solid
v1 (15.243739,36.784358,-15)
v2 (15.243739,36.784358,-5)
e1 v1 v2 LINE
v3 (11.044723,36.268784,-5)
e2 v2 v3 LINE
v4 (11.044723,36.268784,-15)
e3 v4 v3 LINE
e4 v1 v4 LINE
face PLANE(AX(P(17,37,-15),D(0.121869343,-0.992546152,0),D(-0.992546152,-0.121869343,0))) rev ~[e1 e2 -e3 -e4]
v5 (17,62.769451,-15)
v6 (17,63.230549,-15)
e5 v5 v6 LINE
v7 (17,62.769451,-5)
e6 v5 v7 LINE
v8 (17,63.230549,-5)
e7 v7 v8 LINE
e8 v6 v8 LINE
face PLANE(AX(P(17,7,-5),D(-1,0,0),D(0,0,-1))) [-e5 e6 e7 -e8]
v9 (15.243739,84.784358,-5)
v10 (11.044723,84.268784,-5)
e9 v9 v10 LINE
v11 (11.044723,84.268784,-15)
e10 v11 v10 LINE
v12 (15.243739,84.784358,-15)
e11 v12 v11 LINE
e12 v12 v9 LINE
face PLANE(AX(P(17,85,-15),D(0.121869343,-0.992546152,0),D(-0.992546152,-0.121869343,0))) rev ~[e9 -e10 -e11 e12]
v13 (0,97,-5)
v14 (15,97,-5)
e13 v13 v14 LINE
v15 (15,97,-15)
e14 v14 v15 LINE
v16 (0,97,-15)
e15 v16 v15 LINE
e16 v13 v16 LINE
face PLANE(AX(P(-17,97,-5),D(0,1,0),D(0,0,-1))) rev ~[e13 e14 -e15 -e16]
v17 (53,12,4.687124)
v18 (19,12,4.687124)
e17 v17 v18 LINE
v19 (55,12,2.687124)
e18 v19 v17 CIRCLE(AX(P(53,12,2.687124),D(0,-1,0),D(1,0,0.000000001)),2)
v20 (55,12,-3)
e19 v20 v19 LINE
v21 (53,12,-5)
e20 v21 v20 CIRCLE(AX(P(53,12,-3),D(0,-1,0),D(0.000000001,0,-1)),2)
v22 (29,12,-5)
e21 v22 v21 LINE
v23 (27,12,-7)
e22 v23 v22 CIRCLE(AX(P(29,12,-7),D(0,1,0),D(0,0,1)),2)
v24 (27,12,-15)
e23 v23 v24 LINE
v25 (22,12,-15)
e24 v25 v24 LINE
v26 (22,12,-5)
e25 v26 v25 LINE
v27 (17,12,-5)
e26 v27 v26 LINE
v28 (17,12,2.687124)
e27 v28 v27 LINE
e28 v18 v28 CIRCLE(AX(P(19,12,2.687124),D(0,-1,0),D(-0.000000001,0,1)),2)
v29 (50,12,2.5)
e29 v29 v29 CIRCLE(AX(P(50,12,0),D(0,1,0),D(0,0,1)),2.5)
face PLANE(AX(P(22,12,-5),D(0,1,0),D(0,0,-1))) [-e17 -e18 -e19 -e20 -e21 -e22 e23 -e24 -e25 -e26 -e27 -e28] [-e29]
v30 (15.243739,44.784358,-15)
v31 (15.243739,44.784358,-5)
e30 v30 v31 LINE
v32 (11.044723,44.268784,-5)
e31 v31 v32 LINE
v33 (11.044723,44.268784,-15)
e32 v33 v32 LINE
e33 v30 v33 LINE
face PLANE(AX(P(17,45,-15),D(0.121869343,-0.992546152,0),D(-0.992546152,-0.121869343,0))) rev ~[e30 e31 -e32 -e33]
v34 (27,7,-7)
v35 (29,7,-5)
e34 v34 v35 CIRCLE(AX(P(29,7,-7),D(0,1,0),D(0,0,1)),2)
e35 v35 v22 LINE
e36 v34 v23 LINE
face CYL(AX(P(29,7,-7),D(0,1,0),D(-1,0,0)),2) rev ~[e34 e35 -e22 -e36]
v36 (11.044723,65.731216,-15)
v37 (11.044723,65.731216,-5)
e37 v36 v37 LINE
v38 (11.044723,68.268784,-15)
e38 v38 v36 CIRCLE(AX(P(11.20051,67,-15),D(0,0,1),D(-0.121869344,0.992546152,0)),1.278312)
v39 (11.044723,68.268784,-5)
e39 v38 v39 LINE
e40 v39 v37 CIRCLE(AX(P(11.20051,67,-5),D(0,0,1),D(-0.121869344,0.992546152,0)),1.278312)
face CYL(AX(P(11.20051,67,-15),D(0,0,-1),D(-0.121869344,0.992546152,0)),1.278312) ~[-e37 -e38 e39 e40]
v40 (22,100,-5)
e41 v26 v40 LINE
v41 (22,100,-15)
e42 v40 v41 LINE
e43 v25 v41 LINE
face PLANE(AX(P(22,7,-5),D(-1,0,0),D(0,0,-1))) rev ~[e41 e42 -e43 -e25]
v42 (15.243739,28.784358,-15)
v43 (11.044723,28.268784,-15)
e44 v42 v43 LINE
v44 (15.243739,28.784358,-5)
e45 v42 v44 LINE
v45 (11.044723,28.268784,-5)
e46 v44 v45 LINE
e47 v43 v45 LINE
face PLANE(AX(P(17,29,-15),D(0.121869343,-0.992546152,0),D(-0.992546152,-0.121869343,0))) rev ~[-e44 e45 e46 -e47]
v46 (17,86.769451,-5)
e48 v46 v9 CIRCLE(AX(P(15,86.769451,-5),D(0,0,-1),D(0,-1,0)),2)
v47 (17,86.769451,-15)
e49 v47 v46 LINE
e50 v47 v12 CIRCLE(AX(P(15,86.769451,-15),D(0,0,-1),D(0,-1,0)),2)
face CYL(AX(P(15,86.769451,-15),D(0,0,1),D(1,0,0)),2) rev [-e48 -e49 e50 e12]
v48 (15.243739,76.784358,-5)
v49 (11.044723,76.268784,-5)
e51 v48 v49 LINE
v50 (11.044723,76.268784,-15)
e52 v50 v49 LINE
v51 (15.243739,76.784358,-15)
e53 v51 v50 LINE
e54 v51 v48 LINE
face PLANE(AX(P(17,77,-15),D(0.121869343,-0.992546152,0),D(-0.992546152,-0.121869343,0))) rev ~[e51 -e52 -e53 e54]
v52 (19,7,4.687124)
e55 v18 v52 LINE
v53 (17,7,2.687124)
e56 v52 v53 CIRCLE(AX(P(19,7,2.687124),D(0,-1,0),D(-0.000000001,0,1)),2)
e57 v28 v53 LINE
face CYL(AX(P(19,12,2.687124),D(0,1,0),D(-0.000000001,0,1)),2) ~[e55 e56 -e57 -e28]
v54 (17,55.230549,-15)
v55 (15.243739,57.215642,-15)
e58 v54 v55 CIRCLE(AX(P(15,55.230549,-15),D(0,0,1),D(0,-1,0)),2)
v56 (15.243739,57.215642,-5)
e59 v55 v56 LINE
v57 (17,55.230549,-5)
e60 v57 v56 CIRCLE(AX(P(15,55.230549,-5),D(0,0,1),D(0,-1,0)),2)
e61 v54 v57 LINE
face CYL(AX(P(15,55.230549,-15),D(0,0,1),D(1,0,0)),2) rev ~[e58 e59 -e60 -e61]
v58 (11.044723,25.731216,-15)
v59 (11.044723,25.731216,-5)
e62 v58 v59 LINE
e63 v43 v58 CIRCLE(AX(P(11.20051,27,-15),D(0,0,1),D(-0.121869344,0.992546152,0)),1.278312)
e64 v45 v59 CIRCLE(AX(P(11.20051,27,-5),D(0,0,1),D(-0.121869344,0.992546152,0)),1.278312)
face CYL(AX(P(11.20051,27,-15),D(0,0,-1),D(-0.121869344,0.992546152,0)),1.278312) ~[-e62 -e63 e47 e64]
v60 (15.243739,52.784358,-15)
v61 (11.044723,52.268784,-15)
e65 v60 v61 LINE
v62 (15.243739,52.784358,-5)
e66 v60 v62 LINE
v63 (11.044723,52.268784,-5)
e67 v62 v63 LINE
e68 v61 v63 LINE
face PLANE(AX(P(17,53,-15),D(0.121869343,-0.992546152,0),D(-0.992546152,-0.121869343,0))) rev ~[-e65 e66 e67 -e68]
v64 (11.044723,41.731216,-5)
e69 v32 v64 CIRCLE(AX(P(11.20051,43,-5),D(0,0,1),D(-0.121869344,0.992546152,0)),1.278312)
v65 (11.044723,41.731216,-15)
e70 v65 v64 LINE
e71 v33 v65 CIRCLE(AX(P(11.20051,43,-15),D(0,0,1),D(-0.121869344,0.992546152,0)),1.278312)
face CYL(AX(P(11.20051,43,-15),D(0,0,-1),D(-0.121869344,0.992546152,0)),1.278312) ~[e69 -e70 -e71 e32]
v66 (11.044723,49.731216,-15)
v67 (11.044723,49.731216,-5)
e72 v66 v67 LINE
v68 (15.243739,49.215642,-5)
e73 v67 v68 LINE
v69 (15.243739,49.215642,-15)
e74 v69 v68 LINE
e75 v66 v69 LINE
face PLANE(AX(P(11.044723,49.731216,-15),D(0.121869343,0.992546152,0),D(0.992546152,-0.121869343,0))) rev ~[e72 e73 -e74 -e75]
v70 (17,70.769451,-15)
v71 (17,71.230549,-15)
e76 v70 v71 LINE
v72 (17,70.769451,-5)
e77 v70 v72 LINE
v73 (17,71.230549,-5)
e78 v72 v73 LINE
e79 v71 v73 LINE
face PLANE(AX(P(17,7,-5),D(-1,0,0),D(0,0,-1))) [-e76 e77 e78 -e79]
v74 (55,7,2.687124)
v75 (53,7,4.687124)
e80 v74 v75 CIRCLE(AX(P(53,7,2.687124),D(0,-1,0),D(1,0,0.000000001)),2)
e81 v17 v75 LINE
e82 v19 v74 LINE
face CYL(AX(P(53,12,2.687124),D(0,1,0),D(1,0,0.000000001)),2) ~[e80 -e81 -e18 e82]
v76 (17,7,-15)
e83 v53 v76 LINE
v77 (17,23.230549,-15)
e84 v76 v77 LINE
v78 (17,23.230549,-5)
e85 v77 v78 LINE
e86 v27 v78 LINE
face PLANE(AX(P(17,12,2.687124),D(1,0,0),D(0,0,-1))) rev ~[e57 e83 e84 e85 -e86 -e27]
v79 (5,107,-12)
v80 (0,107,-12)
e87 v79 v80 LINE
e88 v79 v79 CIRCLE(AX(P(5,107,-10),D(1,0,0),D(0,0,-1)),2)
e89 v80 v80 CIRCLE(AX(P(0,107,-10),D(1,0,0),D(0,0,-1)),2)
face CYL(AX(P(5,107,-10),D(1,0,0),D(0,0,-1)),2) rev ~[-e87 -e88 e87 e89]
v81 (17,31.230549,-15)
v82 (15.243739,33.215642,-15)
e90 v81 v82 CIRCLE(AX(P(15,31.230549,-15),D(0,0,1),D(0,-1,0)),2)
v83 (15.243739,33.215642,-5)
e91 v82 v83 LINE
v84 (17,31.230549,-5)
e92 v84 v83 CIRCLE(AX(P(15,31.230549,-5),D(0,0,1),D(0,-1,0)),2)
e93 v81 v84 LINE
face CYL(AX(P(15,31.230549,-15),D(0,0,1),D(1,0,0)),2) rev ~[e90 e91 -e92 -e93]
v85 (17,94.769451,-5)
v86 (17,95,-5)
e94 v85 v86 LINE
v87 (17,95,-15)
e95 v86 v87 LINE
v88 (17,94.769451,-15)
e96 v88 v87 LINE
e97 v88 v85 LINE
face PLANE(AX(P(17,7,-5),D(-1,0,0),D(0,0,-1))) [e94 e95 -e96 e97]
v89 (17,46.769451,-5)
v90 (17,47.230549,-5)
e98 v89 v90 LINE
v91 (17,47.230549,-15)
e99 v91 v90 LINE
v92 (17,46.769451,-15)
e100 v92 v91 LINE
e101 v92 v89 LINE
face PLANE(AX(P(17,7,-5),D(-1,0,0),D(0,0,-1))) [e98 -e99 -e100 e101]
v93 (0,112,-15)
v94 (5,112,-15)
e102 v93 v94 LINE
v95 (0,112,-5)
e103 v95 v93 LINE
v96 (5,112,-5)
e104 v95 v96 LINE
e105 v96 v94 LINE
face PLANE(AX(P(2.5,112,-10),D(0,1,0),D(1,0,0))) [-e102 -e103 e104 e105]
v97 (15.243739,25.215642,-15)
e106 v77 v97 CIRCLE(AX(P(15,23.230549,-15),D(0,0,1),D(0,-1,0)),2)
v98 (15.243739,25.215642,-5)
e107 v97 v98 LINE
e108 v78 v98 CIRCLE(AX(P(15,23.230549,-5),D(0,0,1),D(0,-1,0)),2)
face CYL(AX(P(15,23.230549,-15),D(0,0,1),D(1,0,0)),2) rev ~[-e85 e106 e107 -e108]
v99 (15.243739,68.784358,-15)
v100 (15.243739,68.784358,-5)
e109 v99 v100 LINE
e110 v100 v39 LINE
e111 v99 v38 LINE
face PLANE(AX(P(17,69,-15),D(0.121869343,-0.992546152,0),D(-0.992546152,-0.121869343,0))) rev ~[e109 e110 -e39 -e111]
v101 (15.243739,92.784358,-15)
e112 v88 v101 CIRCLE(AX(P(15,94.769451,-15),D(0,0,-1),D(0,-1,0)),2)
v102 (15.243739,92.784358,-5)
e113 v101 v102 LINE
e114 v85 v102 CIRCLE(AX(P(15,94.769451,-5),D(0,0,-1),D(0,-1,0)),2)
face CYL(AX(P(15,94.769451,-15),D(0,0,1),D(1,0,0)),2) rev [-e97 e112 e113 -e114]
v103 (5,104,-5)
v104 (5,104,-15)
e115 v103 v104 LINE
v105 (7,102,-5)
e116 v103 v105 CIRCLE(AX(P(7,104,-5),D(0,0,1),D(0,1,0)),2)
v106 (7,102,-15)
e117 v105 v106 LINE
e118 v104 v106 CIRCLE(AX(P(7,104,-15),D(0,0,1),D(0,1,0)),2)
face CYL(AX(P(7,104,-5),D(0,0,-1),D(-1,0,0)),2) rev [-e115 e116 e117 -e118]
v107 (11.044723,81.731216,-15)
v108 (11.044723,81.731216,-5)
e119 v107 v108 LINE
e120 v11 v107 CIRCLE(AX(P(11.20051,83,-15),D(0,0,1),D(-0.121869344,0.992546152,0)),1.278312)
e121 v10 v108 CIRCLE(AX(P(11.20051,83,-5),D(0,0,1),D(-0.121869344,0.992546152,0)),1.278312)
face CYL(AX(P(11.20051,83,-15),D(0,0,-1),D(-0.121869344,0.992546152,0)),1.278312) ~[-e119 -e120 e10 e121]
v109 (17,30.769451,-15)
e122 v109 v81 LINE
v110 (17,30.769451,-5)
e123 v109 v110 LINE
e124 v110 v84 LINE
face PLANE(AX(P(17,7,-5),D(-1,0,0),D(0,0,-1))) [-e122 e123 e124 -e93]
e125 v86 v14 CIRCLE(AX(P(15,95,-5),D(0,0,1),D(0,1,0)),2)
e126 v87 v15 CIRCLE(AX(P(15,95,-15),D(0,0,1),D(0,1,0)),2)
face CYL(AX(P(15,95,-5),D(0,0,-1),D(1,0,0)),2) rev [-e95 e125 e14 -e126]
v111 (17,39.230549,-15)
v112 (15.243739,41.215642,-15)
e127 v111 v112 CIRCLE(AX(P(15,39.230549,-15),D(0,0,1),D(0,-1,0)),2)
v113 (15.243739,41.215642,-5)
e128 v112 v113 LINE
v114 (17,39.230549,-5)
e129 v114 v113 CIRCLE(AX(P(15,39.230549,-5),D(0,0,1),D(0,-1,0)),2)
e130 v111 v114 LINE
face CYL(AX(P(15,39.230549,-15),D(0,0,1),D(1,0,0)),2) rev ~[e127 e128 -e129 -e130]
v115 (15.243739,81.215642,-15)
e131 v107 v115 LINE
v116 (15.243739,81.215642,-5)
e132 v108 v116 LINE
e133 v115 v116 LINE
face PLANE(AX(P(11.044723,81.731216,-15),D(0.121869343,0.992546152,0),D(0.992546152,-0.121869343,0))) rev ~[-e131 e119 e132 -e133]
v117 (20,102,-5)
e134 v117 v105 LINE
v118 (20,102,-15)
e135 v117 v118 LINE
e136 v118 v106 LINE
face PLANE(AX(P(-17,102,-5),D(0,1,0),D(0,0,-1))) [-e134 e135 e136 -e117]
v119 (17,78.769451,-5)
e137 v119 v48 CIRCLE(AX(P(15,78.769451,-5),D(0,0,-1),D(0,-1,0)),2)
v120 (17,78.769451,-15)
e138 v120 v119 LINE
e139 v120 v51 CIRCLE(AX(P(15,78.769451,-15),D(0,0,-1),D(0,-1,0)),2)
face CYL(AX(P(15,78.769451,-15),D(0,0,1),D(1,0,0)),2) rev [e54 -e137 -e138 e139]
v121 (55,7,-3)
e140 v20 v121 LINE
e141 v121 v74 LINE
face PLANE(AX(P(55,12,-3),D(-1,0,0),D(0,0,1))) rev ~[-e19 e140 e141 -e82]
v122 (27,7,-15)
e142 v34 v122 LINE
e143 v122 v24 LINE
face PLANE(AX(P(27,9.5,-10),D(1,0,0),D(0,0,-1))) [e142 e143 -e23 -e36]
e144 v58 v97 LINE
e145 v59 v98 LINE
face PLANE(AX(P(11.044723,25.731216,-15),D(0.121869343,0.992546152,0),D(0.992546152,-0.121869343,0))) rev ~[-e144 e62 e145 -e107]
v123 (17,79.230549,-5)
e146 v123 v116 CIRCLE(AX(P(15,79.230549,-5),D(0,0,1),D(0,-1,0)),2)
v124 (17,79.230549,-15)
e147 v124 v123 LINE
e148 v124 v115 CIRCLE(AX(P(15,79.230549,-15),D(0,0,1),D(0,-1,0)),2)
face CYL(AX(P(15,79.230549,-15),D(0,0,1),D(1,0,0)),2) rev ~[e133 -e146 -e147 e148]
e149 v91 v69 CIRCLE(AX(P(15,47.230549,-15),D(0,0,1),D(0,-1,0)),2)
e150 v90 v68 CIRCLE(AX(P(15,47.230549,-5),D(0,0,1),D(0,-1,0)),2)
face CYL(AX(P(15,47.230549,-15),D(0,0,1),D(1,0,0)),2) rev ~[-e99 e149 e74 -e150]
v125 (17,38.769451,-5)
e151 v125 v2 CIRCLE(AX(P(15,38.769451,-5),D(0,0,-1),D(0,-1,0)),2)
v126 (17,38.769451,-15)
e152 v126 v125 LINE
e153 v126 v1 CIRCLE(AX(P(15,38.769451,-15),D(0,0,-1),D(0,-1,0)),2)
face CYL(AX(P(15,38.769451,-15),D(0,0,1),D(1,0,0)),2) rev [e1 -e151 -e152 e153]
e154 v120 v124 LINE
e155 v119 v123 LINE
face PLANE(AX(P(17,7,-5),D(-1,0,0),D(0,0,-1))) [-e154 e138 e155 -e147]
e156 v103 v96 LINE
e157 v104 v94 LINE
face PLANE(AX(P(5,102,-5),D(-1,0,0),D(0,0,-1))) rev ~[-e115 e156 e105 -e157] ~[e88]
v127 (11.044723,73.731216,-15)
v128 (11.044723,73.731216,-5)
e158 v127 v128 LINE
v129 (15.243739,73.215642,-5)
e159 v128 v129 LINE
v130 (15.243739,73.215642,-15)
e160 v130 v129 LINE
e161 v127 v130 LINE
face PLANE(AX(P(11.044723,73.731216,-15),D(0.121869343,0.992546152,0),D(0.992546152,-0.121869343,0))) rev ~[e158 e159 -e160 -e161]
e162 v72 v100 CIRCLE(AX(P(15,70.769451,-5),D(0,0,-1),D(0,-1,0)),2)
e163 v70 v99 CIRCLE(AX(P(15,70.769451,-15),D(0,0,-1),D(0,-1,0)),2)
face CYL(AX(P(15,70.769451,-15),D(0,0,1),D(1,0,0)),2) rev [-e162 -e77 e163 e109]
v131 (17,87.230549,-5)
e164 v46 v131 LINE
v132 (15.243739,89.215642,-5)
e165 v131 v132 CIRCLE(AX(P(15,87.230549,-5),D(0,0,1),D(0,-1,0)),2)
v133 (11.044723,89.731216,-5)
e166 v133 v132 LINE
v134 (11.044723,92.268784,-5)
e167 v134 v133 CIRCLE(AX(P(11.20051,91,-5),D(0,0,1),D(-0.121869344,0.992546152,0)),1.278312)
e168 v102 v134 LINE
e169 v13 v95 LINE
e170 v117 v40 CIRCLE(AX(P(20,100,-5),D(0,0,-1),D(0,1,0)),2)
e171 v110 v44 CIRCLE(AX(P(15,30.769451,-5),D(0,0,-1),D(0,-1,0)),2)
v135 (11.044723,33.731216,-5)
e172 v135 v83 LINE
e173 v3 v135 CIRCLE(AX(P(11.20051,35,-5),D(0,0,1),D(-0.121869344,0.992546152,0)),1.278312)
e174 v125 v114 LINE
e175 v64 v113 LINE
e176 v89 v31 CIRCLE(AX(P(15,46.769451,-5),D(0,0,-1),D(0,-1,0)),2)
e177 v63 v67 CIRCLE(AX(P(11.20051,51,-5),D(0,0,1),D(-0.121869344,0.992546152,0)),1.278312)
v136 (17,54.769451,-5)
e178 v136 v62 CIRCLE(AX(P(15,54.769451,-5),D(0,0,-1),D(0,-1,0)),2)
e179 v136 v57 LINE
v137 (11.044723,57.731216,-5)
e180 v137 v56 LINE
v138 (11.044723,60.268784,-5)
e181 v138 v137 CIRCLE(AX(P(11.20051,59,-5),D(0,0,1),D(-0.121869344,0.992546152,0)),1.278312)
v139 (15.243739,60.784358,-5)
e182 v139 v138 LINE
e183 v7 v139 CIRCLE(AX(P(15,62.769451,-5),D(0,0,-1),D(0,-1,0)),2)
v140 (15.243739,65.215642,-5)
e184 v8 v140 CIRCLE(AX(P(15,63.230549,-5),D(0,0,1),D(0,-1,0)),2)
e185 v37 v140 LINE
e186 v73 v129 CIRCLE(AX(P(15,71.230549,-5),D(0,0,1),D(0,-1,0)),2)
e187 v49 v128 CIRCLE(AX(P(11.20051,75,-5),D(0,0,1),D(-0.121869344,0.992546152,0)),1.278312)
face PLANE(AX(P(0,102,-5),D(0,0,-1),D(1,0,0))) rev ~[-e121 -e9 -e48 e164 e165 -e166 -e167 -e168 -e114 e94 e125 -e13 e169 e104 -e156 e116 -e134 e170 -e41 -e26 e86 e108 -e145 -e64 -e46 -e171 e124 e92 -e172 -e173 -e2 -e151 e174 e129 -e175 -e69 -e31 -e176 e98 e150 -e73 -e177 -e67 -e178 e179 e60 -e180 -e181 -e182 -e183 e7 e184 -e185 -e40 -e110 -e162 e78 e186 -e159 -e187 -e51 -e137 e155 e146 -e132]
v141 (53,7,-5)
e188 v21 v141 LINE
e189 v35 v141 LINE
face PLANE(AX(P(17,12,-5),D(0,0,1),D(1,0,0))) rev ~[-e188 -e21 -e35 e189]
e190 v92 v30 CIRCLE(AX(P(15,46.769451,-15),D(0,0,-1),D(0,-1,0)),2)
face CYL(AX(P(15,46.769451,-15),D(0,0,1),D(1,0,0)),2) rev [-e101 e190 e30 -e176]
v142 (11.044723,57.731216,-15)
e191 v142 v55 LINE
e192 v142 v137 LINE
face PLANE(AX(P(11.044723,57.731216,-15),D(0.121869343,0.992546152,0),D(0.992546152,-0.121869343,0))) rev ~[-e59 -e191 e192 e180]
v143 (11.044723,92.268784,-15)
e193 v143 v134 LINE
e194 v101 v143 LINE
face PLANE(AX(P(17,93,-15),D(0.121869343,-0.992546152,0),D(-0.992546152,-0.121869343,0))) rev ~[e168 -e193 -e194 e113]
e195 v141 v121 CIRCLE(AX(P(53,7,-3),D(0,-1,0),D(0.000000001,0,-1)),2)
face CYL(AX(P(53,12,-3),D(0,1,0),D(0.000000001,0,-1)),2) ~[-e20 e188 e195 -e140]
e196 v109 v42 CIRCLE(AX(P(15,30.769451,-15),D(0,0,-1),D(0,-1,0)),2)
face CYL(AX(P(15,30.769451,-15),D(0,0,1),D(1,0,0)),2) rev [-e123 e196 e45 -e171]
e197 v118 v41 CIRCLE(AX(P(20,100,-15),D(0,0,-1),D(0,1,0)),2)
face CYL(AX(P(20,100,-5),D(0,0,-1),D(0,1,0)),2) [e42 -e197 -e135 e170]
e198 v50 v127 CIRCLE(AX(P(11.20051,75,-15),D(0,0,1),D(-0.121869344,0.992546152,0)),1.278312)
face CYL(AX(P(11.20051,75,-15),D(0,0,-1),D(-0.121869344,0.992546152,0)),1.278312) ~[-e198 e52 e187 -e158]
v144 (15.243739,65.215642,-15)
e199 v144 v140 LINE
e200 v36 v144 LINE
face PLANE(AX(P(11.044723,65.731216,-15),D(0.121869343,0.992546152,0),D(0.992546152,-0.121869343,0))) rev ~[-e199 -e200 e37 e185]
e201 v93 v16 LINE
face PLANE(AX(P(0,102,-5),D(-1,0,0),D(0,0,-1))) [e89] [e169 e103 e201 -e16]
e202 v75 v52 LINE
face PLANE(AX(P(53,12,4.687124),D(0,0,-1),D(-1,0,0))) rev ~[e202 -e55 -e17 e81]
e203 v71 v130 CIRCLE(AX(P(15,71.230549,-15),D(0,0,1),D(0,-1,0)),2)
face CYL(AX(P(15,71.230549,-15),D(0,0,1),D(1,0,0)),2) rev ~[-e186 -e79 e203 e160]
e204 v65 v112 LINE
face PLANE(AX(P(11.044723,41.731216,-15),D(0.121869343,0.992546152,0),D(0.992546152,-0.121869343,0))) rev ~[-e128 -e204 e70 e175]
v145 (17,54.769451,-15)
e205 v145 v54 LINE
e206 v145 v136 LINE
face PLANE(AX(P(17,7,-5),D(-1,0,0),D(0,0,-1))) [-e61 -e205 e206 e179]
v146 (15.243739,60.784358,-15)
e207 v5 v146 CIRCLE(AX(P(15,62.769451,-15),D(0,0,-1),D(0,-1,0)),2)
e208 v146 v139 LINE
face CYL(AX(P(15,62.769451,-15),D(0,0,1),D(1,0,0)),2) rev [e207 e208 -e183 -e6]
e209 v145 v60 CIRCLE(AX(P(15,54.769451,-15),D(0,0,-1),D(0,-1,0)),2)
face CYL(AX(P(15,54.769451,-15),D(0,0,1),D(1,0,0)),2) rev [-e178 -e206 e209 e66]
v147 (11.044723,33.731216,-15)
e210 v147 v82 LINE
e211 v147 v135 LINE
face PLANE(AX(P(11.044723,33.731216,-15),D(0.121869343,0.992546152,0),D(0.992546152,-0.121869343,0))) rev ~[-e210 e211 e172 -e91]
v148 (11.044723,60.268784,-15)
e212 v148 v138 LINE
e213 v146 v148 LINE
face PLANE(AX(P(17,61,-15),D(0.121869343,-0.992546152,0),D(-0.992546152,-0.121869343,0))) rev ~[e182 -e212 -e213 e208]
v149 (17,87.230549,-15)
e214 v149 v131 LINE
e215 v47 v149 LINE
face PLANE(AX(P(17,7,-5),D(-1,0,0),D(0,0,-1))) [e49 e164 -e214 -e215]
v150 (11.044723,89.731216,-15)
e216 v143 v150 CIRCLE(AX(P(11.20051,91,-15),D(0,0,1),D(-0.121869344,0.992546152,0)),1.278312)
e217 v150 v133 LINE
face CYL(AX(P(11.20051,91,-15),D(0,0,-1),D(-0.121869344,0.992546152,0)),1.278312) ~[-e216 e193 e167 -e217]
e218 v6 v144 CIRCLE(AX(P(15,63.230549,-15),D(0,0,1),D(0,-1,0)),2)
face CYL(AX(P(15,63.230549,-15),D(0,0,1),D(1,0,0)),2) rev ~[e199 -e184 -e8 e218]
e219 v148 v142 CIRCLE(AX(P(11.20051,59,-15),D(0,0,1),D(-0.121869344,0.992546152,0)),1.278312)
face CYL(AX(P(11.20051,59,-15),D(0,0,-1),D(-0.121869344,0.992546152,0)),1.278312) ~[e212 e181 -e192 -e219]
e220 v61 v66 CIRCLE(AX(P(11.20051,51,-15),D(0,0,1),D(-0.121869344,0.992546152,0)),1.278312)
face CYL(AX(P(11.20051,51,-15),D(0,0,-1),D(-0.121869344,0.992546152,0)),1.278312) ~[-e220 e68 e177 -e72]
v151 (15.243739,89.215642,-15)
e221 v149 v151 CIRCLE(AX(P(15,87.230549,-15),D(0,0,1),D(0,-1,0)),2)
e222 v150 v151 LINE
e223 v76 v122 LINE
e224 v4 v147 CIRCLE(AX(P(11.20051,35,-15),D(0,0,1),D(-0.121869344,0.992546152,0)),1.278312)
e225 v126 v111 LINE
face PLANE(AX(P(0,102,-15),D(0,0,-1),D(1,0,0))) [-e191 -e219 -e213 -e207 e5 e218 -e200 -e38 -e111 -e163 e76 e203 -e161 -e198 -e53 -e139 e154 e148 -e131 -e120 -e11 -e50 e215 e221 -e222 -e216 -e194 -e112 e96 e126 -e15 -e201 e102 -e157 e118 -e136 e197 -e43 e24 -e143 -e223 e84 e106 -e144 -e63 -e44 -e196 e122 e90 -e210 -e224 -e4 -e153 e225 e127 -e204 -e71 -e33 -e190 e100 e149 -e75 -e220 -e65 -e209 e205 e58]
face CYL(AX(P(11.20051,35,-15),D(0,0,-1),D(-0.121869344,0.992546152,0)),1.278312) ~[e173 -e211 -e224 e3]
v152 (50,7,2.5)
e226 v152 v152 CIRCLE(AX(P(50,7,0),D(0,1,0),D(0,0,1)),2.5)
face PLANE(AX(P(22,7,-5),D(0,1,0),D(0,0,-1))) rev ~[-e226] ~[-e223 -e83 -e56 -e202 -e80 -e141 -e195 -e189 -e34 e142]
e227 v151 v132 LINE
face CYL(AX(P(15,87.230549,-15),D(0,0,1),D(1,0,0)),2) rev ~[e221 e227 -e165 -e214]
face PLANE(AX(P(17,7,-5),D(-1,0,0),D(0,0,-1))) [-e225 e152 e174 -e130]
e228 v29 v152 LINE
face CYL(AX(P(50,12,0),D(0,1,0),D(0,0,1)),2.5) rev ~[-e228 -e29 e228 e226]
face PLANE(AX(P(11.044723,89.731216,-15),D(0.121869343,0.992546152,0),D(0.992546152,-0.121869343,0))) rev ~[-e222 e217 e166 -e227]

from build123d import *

# Parameters (mm, degrees)
BOSS_EXTRUDE1_DEPTH    = 7
SKETCH2_W              = 5
SKETCH2_H              = 10
BOSS_EXTRUDE2_DEPTH    = 95
SKETCH15_R             = 3.5
CUT_EXTRUDE3_DEPTH     = 7
SKETCH18_W             = 10
SKETCH18_H             = 5
BOSS_EXTRUDE3_DEPTH    = 34
BOSS_EXTRUDE4_DEPTH    = 10
FILLET1_R              = 2
FILLET2_R              = 2
LPATTERN2_COUNT        = 9
LPATTERN2_PITCH        = 8
FILLET1_OF_LPATTERN2_R = 2
SKETCH20_R             = 2.5
CUT_EXTRUDE4_DEPTH     = 10
CIRPATTERN2_COUNT      = 4
SKETCH22_W             = 135.679550384
SKETCH22_H             = 112.96527187
CUT_EXTRUDE5_DEPTH     = 61.740758688
BOSS_EXTRUDE5_START    = 5
SKETCH23_R             = 2.5
BOSS_EXTRUDE5_DEPTH    = 5
CUT_EXTRUDE6_START     = -10
CUT_EXTRUDE6_DEPTH     = 10
SKETCH27_W             = 10
SKETCH27_H             = 5
BOSS_EXTRUDE6_DEPTH    = 5
SKETCH28_W             = 5
SKETCH28_H             = 10
BOSS_EXTRUDE7_DEPTH    = 10
SKETCH29_R             = 2
CUT_EXTRUDE7_DEPTH     = 5
FILLET3_R              = 2


with BuildPart() as part:
    # Sketch1 → Boss-Extrude1 (new body)
    with BuildSketch(Plane(origin=(0, 0, 0), x_dir=(1, 0, 0), z_dir=(0, 1, 0))):
        with BuildLine():
            Line((-8, 56.940758688), (-8, 59.740758688))
            ThreePointArc((-8, 59.740758688), (-7.414213562, 61.154972251), (-6, 61.740758688))
            Line((-6, 61.740758688), (6, 61.740758688))
            ThreePointArc((6, 61.740758688), (7.414213562, 61.154972251), (8, 59.740758688))
            Line((8, 59.740758688), (8, 56.940758688))
            ThreePointArc((8, 56.940758688), (22.004297361, 53.123073119), (34.606342345, 45.920050844))
            Line((34.606342345, 45.920050844), (36.586241332, 47.899949831))
            ThreePointArc((36.586241332, 47.899949831), (38.000454895, 48.485736269), (39.414668457, 47.899949831))
            Line((39.414668457, 47.899949831), (47.899949831, 39.414668457))
            ThreePointArc((47.899949831, 39.414668457), (48.485736269, 38.000454895), (47.899949831, 36.586241332))
            Line((47.899949831, 36.586241332), (45.920050844, 34.606342345))
            ThreePointArc((45.920050844, 34.606342345), (53.123073119, 22.004297361), (56.940758688, 8))
            Line((56.940758688, 8), (59.740758688, 8))
            ThreePointArc((59.740758688, 8), (61.154972251, 7.414213562), (61.740758688, 6))
            Line((61.740758688, 6), (61.740758688, -6))
            ThreePointArc((61.740758688, -6), (61.154972251, -7.414213562), (59.740758688, -8))
            Line((59.740758688, -8), (56.940758688, -8))
            ThreePointArc((56.940758688, -8), (53.123073119, -22.004297361), (45.920050844, -34.606342345))
            Line((45.920050844, -34.606342345), (47.899949831, -36.586241332))
            ThreePointArc((47.899949831, -36.586241332), (48.485736269, -38.000454895), (47.899949831, -39.414668457))
            Line((47.899949831, -39.414668457), (39.414668457, -47.899949831))
            ThreePointArc((39.414668457, -47.899949831), (38.000454895, -48.485736269), (36.586241332, -47.899949831))
            Line((36.586241332, -47.899949831), (34.606342345, -45.920050844))
            ThreePointArc((34.606342345, -45.920050844), (22.004297361, -53.123073119), (8, -56.940758688))
            Line((8, -56.940758688), (8, -59.740758688))
            ThreePointArc((8, -59.740758688), (7.414213562, -61.154972251), (6, -61.740758688))
            Line((6, -61.740758688), (-6, -61.740758688))
            ThreePointArc((-6, -61.740758688), (-7.414213562, -61.154972251), (-8, -59.740758688))
            Line((-8, -59.740758688), (-8, -56.940758688))
            ThreePointArc((-8, -56.940758688), (-22.004297361, -53.123073119), (-34.606342345, -45.920050844))
            Line((-34.606342345, -45.920050844), (-36.586241332, -47.899949831))
            ThreePointArc((-36.586241332, -47.899949831), (-38.000454895, -48.485736269), (-39.414668457, -47.899949831))
            Line((-39.414668457, -47.899949831), (-47.899949831, -39.414668457))
            ThreePointArc((-47.899949831, -39.414668457), (-48.485736269, -38.000454895), (-47.899949831, -36.586241332))
            Line((-47.899949831, -36.586241332), (-45.920050844, -34.606342345))
            ThreePointArc((-45.920050844, -34.606342345), (-53.123073119, -22.004297361), (-56.940758688, -8))
            Line((-56.940758688, -8), (-59.740758688, -8))
            ThreePointArc((-59.740758688, -8), (-61.154972251, -7.414213562), (-61.740758688, -6))
            Line((-61.740758688, -6), (-61.740758688, 6))
            ThreePointArc((-61.740758688, 6), (-61.154972251, 7.414213562), (-59.740758688, 8))
            Line((-59.740758688, 8), (-56.940758688, 8))
            ThreePointArc((-56.940758688, 8), (-53.123073119, 22.004297361), (-45.920050844, 34.606342345))
            Line((-45.920050844, 34.606342345), (-47.899949831, 36.586241332))
            ThreePointArc((-47.899949831, 36.586241332), (-48.485736269, 38.000454895), (-47.899949831, 39.414668457))
            Line((-47.899949831, 39.414668457), (-39.414668457, 47.899949831))
            ThreePointArc((-39.414668457, 47.899949831), (-38.000454895, 48.485736269), (-36.586241332, 47.899949831))
            Line((-36.586241332, 47.899949831), (-34.606342345, 45.920050844))
            ThreePointArc((-34.606342345, 45.920050844), (-22.004297361, 53.123073119), (-8, 56.940758688))
        make_face()
    extrude(amount=BOSS_EXTRUDE1_DEPTH)

    # Sketch2 → Boss-Extrude2 (add)
    with BuildSketch(Plane(origin=(0, 7, 0), x_dir=(1, 0, 0), z_dir=(0, 1, 0))):
        with Locations((19.5, 10)):
            Rectangle(SKETCH2_W, SKETCH2_H)
        with Locations((-19.5, 10)):
            Rectangle(SKETCH2_W, SKETCH2_H)
    extrude(amount=BOSS_EXTRUDE2_DEPTH)

    # Sketch15 → Cut-Extrude3 (cut)
    with BuildSketch(Plane.XZ):
        with Locations(Location((0, 0, 0), (0, 0, 270))):
            Circle(SKETCH15_R)
    extrude(amount=-CUT_EXTRUDE3_DEPTH, mode=Mode.SUBTRACT)

    # Sketch18 → Boss-Extrude3 (add)
    with BuildSketch(Plane(origin=(-17, 0, 0), x_dir=(0, 0, -1), z_dir=(1, 0, 0))):
        with Locations((10, 99.5)):
            Rectangle(SKETCH18_W, SKETCH18_H)
    extrude(amount=BOSS_EXTRUDE3_DEPTH)

    # Sketch19 → Boss-Extrude4 (add)
    with BuildSketch(Plane(origin=(0, 0, -15), x_dir=(-1, 0, 0), z_dir=(0, 0, -1))):
        with BuildLine():
            Line((-17, 93), (-11.04472309, 92.26878394))
            ThreePointArc((-11.04472309, 92.26878394), (-9.922197884, 91), (-11.04472309, 89.73121606))
            Line((-11.04472309, 89.73121606), (-17, 89))
            Line((-17, 89), (-17, 93))
        make_face()
    boss_extrude4 = extrude(amount=-BOSS_EXTRUDE4_DEPTH)

    # Fillet1
    fillet1_edges = [part.edges().sort_by_distance(p)[0] for p in [
        (17, 89, -10),
        (17, 93, -10),
    ]]
    fillet(fillet1_edges, radius=FILLET1_R)

    # Fillet2
    fillet2_edges = [part.edges().sort_by_distance(p)[0] for p in [
        (22, 102, -10),
        (-22, 102, -10),
        (-17, 97, -10),
        (17, 97, -10),
    ]]
    fillet(fillet2_edges, radius=FILLET2_R)

    # LPattern2: Boss-Extrude4 ×9
    with Locations(*[(0, -i * LPATTERN2_PITCH, 0) for i in range(1, LPATTERN2_COUNT)]):
        add(boss_extrude4)

    # Fillet1 of LPattern2
    fillet1_of_lpattern2_edges = [part.edges().sort_by_distance(p)[0] for p in [
        (17, 81, -10),
        (17, 85, -10),
        (17, 73, -10),
        (17, 77, -10),
        (17, 65, -10),
        (17, 69, -10),
        (17, 57, -10),
        (17, 61, -10),
        (17, 49, -10),
        (17, 53, -10),
        (17, 41, -10),
        (17, 45, -10),
        (17, 33, -10),
        (17, 37, -10),
        (17, 25, -10),
        (17, 29, -10),
    ]]
    fillet(fillet1_of_lpattern2_edges, radius=FILLET1_OF_LPATTERN2_R)

    # Sketch20 → Cut-Extrude4 (cut)
    with BuildSketch(Plane(origin=(0, 7, 0), x_dir=(1, 0, 0), z_dir=(0, 1, 0))):
        with Locations(Location((0, 50, 0), (0, 0, 270))):
            Circle(SKETCH20_R)
    cut_extrude4 = extrude(amount=-CUT_EXTRUDE4_DEPTH, mode=Mode.SUBTRACT)

    # CirPattern2: Cut-Extrude4 ×4 about axis
    cirpattern2_axis = Axis((0, 0, 0), (0, 1, 0))
    for i in range(1, CIRPATTERN2_COUNT):
        add(cut_extrude4.rotate(cirpattern2_axis, i * 360 / CIRPATTERN2_COUNT), mode=Mode.SUBTRACT)

    # Sketch22 → Cut-Extrude5 (cut)
    with BuildSketch(Plane(origin=(0, 0, 0), x_dir=(0, 0, -1), z_dir=(1, 0, 0))):
        with Locations((-0.132373771, 50.371775874)):
            Rectangle(SKETCH22_W, SKETCH22_H)
    extrude(amount=-CUT_EXTRUDE5_DEPTH, mode=Mode.SUBTRACT)

    # Sketch23 → Boss-Extrude5 (add)
    with BuildSketch(Plane(origin=(0, 7, 0), x_dir=(1, 0, 0), z_dir=(0, 1, 0)).offset(BOSS_EXTRUDE5_START)):
        with BuildLine():
            Line((55, 3), (55, -2.687123684))
            ThreePointArc((55, -2.687123684), (54.414213562, -4.101337246), (53, -4.687123684))
            Line((53, -4.687123684), (19, -4.687123684))
            ThreePointArc((19, -4.687123684), (17.585786438, -4.101337246), (17, -2.687123684))
            Line((17, -2.687123684), (17, 5))
            Line((17, 5), (53, 5))
            ThreePointArc((53, 5), (54.414213562, 4.414213562), (55, 3))
        make_face()
        with Locations(Location((50, 0, 0), (0, 0, 270))):
            Circle(SKETCH23_R, mode=Mode.SUBTRACT)
    extrude(amount=-BOSS_EXTRUDE5_DEPTH)

    # Sketch26 → Cut-Extrude6 (cut)
    with BuildSketch(Plane(origin=(0, 7, 0), x_dir=(1, 0, 0), z_dir=(0, 1, 0)).offset(CUT_EXTRUDE6_START)):
        with BuildLine():
            Line((6, 61.740758688), (0, 61.740758688))
            Line((0, 61.740758688), (0, 52.5))
            ThreePointArc((0, 52.5), (2.5, 50), (0, 47.5))
            Line((0, 47.5), (0, 3.5))
            ThreePointArc((0, 3.5), (3.5, 0), (0, -3.5))
            Line((0, -3.5), (0, -47.5))
            ThreePointArc((0, -47.5), (2.5, -50), (0, -52.5))
            Line((0, -52.5), (0, -61.740758688))
            Line((0, -61.740758688), (6, -61.740758688))
            ThreePointArc((6, -61.740758688), (7.414213562, -61.154972251), (8, -59.740758688))
            Line((8, -59.740758688), (8, -56.940758688))
            ThreePointArc((8, -56.940758688), (22.004297361, -53.123073119), (34.606342345, -45.920050844))
            Line((34.606342345, -45.920050844), (36.586241332, -47.899949831))
            ThreePointArc((36.586241332, -47.899949831), (38.000454895, -48.485736269), (39.414668457, -47.899949831))
            Line((39.414668457, -47.899949831), (47.899949831, -39.414668457))
            ThreePointArc((47.899949831, -39.414668457), (48.485736269, -38.000454895), (47.899949831, -36.586241332))
            Line((47.899949831, -36.586241332), (45.920050844, -34.606342345))
            ThreePointArc((45.920050844, -34.606342345), (53.123073119, -22.004297361), (56.940758688, -8))
            Line((56.940758688, -8), (59.740758688, -8))
            ThreePointArc((59.740758688, -8), (61.154972251, -7.414213562), (61.740758688, -6))
            Line((61.740758688, -6), (61.740758688, 6))
            ThreePointArc((61.740758688, 6), (61.154972251, 7.414213562), (59.740758688, 8))
            Line((59.740758688, 8), (56.940758688, 8))
            ThreePointArc((56.940758688, 8), (53.123073119, 22.004297361), (45.920050844, 34.606342345))
            Line((45.920050844, 34.606342345), (47.899949831, 36.586241332))
            ThreePointArc((47.899949831, 36.586241332), (48.485736269, 38.000454895), (47.899949831, 39.414668457))
            Line((47.899949831, 39.414668457), (39.414668457, 47.899949831))
            ThreePointArc((39.414668457, 47.899949831), (38.000454895, 48.485736269), (36.586241332, 47.899949831))
            Line((36.586241332, 47.899949831), (34.606342345, 45.920050844))
            ThreePointArc((34.606342345, 45.920050844), (22.004297361, 53.123073119), (8, 56.940758688))
            Line((8, 56.940758688), (8, 59.740758688))
            ThreePointArc((8, 59.740758688), (7.414213562, 61.154972251), (6, 61.740758688))
        make_face()
    extrude(amount=CUT_EXTRUDE6_DEPTH, mode=Mode.SUBTRACT)

    # Sketch27 → Boss-Extrude6 (add)
    with BuildSketch(Plane(origin=(22, 0, 0), x_dir=(0, 0, -1), z_dir=(1, 0, 0))):
        with Locations((10, 9.5)):
            Rectangle(SKETCH27_W, SKETCH27_H)
    extrude(amount=BOSS_EXTRUDE6_DEPTH)

    # Sketch28 → Boss-Extrude7 (add)
    with BuildSketch(Plane(origin=(0, 102, 0), x_dir=(1, 0, 0), z_dir=(0, 1, 0))):
        with Locations((2.5, 10)):
            Rectangle(SKETCH28_W, SKETCH28_H)
    extrude(amount=BOSS_EXTRUDE7_DEPTH)

    # Sketch29 → Cut-Extrude7 (cut)
    with BuildSketch(Plane(origin=(5, 0, 0), x_dir=(0, 0, -1), z_dir=(1, 0, 0))):
        with Locations((10, 107)):
            Circle(SKETCH29_R)
    extrude(amount=-CUT_EXTRUDE7_DEPTH, mode=Mode.SUBTRACT)

    # Fillet3
    fillet3_edges = [part.edges().sort_by_distance(p)[0] for p in [
        (27, 9.5, -5),
        (5, 102, -10),
    ]]
    fillet(fillet3_edges, radius=FILLET3_R)


solid = part.part
